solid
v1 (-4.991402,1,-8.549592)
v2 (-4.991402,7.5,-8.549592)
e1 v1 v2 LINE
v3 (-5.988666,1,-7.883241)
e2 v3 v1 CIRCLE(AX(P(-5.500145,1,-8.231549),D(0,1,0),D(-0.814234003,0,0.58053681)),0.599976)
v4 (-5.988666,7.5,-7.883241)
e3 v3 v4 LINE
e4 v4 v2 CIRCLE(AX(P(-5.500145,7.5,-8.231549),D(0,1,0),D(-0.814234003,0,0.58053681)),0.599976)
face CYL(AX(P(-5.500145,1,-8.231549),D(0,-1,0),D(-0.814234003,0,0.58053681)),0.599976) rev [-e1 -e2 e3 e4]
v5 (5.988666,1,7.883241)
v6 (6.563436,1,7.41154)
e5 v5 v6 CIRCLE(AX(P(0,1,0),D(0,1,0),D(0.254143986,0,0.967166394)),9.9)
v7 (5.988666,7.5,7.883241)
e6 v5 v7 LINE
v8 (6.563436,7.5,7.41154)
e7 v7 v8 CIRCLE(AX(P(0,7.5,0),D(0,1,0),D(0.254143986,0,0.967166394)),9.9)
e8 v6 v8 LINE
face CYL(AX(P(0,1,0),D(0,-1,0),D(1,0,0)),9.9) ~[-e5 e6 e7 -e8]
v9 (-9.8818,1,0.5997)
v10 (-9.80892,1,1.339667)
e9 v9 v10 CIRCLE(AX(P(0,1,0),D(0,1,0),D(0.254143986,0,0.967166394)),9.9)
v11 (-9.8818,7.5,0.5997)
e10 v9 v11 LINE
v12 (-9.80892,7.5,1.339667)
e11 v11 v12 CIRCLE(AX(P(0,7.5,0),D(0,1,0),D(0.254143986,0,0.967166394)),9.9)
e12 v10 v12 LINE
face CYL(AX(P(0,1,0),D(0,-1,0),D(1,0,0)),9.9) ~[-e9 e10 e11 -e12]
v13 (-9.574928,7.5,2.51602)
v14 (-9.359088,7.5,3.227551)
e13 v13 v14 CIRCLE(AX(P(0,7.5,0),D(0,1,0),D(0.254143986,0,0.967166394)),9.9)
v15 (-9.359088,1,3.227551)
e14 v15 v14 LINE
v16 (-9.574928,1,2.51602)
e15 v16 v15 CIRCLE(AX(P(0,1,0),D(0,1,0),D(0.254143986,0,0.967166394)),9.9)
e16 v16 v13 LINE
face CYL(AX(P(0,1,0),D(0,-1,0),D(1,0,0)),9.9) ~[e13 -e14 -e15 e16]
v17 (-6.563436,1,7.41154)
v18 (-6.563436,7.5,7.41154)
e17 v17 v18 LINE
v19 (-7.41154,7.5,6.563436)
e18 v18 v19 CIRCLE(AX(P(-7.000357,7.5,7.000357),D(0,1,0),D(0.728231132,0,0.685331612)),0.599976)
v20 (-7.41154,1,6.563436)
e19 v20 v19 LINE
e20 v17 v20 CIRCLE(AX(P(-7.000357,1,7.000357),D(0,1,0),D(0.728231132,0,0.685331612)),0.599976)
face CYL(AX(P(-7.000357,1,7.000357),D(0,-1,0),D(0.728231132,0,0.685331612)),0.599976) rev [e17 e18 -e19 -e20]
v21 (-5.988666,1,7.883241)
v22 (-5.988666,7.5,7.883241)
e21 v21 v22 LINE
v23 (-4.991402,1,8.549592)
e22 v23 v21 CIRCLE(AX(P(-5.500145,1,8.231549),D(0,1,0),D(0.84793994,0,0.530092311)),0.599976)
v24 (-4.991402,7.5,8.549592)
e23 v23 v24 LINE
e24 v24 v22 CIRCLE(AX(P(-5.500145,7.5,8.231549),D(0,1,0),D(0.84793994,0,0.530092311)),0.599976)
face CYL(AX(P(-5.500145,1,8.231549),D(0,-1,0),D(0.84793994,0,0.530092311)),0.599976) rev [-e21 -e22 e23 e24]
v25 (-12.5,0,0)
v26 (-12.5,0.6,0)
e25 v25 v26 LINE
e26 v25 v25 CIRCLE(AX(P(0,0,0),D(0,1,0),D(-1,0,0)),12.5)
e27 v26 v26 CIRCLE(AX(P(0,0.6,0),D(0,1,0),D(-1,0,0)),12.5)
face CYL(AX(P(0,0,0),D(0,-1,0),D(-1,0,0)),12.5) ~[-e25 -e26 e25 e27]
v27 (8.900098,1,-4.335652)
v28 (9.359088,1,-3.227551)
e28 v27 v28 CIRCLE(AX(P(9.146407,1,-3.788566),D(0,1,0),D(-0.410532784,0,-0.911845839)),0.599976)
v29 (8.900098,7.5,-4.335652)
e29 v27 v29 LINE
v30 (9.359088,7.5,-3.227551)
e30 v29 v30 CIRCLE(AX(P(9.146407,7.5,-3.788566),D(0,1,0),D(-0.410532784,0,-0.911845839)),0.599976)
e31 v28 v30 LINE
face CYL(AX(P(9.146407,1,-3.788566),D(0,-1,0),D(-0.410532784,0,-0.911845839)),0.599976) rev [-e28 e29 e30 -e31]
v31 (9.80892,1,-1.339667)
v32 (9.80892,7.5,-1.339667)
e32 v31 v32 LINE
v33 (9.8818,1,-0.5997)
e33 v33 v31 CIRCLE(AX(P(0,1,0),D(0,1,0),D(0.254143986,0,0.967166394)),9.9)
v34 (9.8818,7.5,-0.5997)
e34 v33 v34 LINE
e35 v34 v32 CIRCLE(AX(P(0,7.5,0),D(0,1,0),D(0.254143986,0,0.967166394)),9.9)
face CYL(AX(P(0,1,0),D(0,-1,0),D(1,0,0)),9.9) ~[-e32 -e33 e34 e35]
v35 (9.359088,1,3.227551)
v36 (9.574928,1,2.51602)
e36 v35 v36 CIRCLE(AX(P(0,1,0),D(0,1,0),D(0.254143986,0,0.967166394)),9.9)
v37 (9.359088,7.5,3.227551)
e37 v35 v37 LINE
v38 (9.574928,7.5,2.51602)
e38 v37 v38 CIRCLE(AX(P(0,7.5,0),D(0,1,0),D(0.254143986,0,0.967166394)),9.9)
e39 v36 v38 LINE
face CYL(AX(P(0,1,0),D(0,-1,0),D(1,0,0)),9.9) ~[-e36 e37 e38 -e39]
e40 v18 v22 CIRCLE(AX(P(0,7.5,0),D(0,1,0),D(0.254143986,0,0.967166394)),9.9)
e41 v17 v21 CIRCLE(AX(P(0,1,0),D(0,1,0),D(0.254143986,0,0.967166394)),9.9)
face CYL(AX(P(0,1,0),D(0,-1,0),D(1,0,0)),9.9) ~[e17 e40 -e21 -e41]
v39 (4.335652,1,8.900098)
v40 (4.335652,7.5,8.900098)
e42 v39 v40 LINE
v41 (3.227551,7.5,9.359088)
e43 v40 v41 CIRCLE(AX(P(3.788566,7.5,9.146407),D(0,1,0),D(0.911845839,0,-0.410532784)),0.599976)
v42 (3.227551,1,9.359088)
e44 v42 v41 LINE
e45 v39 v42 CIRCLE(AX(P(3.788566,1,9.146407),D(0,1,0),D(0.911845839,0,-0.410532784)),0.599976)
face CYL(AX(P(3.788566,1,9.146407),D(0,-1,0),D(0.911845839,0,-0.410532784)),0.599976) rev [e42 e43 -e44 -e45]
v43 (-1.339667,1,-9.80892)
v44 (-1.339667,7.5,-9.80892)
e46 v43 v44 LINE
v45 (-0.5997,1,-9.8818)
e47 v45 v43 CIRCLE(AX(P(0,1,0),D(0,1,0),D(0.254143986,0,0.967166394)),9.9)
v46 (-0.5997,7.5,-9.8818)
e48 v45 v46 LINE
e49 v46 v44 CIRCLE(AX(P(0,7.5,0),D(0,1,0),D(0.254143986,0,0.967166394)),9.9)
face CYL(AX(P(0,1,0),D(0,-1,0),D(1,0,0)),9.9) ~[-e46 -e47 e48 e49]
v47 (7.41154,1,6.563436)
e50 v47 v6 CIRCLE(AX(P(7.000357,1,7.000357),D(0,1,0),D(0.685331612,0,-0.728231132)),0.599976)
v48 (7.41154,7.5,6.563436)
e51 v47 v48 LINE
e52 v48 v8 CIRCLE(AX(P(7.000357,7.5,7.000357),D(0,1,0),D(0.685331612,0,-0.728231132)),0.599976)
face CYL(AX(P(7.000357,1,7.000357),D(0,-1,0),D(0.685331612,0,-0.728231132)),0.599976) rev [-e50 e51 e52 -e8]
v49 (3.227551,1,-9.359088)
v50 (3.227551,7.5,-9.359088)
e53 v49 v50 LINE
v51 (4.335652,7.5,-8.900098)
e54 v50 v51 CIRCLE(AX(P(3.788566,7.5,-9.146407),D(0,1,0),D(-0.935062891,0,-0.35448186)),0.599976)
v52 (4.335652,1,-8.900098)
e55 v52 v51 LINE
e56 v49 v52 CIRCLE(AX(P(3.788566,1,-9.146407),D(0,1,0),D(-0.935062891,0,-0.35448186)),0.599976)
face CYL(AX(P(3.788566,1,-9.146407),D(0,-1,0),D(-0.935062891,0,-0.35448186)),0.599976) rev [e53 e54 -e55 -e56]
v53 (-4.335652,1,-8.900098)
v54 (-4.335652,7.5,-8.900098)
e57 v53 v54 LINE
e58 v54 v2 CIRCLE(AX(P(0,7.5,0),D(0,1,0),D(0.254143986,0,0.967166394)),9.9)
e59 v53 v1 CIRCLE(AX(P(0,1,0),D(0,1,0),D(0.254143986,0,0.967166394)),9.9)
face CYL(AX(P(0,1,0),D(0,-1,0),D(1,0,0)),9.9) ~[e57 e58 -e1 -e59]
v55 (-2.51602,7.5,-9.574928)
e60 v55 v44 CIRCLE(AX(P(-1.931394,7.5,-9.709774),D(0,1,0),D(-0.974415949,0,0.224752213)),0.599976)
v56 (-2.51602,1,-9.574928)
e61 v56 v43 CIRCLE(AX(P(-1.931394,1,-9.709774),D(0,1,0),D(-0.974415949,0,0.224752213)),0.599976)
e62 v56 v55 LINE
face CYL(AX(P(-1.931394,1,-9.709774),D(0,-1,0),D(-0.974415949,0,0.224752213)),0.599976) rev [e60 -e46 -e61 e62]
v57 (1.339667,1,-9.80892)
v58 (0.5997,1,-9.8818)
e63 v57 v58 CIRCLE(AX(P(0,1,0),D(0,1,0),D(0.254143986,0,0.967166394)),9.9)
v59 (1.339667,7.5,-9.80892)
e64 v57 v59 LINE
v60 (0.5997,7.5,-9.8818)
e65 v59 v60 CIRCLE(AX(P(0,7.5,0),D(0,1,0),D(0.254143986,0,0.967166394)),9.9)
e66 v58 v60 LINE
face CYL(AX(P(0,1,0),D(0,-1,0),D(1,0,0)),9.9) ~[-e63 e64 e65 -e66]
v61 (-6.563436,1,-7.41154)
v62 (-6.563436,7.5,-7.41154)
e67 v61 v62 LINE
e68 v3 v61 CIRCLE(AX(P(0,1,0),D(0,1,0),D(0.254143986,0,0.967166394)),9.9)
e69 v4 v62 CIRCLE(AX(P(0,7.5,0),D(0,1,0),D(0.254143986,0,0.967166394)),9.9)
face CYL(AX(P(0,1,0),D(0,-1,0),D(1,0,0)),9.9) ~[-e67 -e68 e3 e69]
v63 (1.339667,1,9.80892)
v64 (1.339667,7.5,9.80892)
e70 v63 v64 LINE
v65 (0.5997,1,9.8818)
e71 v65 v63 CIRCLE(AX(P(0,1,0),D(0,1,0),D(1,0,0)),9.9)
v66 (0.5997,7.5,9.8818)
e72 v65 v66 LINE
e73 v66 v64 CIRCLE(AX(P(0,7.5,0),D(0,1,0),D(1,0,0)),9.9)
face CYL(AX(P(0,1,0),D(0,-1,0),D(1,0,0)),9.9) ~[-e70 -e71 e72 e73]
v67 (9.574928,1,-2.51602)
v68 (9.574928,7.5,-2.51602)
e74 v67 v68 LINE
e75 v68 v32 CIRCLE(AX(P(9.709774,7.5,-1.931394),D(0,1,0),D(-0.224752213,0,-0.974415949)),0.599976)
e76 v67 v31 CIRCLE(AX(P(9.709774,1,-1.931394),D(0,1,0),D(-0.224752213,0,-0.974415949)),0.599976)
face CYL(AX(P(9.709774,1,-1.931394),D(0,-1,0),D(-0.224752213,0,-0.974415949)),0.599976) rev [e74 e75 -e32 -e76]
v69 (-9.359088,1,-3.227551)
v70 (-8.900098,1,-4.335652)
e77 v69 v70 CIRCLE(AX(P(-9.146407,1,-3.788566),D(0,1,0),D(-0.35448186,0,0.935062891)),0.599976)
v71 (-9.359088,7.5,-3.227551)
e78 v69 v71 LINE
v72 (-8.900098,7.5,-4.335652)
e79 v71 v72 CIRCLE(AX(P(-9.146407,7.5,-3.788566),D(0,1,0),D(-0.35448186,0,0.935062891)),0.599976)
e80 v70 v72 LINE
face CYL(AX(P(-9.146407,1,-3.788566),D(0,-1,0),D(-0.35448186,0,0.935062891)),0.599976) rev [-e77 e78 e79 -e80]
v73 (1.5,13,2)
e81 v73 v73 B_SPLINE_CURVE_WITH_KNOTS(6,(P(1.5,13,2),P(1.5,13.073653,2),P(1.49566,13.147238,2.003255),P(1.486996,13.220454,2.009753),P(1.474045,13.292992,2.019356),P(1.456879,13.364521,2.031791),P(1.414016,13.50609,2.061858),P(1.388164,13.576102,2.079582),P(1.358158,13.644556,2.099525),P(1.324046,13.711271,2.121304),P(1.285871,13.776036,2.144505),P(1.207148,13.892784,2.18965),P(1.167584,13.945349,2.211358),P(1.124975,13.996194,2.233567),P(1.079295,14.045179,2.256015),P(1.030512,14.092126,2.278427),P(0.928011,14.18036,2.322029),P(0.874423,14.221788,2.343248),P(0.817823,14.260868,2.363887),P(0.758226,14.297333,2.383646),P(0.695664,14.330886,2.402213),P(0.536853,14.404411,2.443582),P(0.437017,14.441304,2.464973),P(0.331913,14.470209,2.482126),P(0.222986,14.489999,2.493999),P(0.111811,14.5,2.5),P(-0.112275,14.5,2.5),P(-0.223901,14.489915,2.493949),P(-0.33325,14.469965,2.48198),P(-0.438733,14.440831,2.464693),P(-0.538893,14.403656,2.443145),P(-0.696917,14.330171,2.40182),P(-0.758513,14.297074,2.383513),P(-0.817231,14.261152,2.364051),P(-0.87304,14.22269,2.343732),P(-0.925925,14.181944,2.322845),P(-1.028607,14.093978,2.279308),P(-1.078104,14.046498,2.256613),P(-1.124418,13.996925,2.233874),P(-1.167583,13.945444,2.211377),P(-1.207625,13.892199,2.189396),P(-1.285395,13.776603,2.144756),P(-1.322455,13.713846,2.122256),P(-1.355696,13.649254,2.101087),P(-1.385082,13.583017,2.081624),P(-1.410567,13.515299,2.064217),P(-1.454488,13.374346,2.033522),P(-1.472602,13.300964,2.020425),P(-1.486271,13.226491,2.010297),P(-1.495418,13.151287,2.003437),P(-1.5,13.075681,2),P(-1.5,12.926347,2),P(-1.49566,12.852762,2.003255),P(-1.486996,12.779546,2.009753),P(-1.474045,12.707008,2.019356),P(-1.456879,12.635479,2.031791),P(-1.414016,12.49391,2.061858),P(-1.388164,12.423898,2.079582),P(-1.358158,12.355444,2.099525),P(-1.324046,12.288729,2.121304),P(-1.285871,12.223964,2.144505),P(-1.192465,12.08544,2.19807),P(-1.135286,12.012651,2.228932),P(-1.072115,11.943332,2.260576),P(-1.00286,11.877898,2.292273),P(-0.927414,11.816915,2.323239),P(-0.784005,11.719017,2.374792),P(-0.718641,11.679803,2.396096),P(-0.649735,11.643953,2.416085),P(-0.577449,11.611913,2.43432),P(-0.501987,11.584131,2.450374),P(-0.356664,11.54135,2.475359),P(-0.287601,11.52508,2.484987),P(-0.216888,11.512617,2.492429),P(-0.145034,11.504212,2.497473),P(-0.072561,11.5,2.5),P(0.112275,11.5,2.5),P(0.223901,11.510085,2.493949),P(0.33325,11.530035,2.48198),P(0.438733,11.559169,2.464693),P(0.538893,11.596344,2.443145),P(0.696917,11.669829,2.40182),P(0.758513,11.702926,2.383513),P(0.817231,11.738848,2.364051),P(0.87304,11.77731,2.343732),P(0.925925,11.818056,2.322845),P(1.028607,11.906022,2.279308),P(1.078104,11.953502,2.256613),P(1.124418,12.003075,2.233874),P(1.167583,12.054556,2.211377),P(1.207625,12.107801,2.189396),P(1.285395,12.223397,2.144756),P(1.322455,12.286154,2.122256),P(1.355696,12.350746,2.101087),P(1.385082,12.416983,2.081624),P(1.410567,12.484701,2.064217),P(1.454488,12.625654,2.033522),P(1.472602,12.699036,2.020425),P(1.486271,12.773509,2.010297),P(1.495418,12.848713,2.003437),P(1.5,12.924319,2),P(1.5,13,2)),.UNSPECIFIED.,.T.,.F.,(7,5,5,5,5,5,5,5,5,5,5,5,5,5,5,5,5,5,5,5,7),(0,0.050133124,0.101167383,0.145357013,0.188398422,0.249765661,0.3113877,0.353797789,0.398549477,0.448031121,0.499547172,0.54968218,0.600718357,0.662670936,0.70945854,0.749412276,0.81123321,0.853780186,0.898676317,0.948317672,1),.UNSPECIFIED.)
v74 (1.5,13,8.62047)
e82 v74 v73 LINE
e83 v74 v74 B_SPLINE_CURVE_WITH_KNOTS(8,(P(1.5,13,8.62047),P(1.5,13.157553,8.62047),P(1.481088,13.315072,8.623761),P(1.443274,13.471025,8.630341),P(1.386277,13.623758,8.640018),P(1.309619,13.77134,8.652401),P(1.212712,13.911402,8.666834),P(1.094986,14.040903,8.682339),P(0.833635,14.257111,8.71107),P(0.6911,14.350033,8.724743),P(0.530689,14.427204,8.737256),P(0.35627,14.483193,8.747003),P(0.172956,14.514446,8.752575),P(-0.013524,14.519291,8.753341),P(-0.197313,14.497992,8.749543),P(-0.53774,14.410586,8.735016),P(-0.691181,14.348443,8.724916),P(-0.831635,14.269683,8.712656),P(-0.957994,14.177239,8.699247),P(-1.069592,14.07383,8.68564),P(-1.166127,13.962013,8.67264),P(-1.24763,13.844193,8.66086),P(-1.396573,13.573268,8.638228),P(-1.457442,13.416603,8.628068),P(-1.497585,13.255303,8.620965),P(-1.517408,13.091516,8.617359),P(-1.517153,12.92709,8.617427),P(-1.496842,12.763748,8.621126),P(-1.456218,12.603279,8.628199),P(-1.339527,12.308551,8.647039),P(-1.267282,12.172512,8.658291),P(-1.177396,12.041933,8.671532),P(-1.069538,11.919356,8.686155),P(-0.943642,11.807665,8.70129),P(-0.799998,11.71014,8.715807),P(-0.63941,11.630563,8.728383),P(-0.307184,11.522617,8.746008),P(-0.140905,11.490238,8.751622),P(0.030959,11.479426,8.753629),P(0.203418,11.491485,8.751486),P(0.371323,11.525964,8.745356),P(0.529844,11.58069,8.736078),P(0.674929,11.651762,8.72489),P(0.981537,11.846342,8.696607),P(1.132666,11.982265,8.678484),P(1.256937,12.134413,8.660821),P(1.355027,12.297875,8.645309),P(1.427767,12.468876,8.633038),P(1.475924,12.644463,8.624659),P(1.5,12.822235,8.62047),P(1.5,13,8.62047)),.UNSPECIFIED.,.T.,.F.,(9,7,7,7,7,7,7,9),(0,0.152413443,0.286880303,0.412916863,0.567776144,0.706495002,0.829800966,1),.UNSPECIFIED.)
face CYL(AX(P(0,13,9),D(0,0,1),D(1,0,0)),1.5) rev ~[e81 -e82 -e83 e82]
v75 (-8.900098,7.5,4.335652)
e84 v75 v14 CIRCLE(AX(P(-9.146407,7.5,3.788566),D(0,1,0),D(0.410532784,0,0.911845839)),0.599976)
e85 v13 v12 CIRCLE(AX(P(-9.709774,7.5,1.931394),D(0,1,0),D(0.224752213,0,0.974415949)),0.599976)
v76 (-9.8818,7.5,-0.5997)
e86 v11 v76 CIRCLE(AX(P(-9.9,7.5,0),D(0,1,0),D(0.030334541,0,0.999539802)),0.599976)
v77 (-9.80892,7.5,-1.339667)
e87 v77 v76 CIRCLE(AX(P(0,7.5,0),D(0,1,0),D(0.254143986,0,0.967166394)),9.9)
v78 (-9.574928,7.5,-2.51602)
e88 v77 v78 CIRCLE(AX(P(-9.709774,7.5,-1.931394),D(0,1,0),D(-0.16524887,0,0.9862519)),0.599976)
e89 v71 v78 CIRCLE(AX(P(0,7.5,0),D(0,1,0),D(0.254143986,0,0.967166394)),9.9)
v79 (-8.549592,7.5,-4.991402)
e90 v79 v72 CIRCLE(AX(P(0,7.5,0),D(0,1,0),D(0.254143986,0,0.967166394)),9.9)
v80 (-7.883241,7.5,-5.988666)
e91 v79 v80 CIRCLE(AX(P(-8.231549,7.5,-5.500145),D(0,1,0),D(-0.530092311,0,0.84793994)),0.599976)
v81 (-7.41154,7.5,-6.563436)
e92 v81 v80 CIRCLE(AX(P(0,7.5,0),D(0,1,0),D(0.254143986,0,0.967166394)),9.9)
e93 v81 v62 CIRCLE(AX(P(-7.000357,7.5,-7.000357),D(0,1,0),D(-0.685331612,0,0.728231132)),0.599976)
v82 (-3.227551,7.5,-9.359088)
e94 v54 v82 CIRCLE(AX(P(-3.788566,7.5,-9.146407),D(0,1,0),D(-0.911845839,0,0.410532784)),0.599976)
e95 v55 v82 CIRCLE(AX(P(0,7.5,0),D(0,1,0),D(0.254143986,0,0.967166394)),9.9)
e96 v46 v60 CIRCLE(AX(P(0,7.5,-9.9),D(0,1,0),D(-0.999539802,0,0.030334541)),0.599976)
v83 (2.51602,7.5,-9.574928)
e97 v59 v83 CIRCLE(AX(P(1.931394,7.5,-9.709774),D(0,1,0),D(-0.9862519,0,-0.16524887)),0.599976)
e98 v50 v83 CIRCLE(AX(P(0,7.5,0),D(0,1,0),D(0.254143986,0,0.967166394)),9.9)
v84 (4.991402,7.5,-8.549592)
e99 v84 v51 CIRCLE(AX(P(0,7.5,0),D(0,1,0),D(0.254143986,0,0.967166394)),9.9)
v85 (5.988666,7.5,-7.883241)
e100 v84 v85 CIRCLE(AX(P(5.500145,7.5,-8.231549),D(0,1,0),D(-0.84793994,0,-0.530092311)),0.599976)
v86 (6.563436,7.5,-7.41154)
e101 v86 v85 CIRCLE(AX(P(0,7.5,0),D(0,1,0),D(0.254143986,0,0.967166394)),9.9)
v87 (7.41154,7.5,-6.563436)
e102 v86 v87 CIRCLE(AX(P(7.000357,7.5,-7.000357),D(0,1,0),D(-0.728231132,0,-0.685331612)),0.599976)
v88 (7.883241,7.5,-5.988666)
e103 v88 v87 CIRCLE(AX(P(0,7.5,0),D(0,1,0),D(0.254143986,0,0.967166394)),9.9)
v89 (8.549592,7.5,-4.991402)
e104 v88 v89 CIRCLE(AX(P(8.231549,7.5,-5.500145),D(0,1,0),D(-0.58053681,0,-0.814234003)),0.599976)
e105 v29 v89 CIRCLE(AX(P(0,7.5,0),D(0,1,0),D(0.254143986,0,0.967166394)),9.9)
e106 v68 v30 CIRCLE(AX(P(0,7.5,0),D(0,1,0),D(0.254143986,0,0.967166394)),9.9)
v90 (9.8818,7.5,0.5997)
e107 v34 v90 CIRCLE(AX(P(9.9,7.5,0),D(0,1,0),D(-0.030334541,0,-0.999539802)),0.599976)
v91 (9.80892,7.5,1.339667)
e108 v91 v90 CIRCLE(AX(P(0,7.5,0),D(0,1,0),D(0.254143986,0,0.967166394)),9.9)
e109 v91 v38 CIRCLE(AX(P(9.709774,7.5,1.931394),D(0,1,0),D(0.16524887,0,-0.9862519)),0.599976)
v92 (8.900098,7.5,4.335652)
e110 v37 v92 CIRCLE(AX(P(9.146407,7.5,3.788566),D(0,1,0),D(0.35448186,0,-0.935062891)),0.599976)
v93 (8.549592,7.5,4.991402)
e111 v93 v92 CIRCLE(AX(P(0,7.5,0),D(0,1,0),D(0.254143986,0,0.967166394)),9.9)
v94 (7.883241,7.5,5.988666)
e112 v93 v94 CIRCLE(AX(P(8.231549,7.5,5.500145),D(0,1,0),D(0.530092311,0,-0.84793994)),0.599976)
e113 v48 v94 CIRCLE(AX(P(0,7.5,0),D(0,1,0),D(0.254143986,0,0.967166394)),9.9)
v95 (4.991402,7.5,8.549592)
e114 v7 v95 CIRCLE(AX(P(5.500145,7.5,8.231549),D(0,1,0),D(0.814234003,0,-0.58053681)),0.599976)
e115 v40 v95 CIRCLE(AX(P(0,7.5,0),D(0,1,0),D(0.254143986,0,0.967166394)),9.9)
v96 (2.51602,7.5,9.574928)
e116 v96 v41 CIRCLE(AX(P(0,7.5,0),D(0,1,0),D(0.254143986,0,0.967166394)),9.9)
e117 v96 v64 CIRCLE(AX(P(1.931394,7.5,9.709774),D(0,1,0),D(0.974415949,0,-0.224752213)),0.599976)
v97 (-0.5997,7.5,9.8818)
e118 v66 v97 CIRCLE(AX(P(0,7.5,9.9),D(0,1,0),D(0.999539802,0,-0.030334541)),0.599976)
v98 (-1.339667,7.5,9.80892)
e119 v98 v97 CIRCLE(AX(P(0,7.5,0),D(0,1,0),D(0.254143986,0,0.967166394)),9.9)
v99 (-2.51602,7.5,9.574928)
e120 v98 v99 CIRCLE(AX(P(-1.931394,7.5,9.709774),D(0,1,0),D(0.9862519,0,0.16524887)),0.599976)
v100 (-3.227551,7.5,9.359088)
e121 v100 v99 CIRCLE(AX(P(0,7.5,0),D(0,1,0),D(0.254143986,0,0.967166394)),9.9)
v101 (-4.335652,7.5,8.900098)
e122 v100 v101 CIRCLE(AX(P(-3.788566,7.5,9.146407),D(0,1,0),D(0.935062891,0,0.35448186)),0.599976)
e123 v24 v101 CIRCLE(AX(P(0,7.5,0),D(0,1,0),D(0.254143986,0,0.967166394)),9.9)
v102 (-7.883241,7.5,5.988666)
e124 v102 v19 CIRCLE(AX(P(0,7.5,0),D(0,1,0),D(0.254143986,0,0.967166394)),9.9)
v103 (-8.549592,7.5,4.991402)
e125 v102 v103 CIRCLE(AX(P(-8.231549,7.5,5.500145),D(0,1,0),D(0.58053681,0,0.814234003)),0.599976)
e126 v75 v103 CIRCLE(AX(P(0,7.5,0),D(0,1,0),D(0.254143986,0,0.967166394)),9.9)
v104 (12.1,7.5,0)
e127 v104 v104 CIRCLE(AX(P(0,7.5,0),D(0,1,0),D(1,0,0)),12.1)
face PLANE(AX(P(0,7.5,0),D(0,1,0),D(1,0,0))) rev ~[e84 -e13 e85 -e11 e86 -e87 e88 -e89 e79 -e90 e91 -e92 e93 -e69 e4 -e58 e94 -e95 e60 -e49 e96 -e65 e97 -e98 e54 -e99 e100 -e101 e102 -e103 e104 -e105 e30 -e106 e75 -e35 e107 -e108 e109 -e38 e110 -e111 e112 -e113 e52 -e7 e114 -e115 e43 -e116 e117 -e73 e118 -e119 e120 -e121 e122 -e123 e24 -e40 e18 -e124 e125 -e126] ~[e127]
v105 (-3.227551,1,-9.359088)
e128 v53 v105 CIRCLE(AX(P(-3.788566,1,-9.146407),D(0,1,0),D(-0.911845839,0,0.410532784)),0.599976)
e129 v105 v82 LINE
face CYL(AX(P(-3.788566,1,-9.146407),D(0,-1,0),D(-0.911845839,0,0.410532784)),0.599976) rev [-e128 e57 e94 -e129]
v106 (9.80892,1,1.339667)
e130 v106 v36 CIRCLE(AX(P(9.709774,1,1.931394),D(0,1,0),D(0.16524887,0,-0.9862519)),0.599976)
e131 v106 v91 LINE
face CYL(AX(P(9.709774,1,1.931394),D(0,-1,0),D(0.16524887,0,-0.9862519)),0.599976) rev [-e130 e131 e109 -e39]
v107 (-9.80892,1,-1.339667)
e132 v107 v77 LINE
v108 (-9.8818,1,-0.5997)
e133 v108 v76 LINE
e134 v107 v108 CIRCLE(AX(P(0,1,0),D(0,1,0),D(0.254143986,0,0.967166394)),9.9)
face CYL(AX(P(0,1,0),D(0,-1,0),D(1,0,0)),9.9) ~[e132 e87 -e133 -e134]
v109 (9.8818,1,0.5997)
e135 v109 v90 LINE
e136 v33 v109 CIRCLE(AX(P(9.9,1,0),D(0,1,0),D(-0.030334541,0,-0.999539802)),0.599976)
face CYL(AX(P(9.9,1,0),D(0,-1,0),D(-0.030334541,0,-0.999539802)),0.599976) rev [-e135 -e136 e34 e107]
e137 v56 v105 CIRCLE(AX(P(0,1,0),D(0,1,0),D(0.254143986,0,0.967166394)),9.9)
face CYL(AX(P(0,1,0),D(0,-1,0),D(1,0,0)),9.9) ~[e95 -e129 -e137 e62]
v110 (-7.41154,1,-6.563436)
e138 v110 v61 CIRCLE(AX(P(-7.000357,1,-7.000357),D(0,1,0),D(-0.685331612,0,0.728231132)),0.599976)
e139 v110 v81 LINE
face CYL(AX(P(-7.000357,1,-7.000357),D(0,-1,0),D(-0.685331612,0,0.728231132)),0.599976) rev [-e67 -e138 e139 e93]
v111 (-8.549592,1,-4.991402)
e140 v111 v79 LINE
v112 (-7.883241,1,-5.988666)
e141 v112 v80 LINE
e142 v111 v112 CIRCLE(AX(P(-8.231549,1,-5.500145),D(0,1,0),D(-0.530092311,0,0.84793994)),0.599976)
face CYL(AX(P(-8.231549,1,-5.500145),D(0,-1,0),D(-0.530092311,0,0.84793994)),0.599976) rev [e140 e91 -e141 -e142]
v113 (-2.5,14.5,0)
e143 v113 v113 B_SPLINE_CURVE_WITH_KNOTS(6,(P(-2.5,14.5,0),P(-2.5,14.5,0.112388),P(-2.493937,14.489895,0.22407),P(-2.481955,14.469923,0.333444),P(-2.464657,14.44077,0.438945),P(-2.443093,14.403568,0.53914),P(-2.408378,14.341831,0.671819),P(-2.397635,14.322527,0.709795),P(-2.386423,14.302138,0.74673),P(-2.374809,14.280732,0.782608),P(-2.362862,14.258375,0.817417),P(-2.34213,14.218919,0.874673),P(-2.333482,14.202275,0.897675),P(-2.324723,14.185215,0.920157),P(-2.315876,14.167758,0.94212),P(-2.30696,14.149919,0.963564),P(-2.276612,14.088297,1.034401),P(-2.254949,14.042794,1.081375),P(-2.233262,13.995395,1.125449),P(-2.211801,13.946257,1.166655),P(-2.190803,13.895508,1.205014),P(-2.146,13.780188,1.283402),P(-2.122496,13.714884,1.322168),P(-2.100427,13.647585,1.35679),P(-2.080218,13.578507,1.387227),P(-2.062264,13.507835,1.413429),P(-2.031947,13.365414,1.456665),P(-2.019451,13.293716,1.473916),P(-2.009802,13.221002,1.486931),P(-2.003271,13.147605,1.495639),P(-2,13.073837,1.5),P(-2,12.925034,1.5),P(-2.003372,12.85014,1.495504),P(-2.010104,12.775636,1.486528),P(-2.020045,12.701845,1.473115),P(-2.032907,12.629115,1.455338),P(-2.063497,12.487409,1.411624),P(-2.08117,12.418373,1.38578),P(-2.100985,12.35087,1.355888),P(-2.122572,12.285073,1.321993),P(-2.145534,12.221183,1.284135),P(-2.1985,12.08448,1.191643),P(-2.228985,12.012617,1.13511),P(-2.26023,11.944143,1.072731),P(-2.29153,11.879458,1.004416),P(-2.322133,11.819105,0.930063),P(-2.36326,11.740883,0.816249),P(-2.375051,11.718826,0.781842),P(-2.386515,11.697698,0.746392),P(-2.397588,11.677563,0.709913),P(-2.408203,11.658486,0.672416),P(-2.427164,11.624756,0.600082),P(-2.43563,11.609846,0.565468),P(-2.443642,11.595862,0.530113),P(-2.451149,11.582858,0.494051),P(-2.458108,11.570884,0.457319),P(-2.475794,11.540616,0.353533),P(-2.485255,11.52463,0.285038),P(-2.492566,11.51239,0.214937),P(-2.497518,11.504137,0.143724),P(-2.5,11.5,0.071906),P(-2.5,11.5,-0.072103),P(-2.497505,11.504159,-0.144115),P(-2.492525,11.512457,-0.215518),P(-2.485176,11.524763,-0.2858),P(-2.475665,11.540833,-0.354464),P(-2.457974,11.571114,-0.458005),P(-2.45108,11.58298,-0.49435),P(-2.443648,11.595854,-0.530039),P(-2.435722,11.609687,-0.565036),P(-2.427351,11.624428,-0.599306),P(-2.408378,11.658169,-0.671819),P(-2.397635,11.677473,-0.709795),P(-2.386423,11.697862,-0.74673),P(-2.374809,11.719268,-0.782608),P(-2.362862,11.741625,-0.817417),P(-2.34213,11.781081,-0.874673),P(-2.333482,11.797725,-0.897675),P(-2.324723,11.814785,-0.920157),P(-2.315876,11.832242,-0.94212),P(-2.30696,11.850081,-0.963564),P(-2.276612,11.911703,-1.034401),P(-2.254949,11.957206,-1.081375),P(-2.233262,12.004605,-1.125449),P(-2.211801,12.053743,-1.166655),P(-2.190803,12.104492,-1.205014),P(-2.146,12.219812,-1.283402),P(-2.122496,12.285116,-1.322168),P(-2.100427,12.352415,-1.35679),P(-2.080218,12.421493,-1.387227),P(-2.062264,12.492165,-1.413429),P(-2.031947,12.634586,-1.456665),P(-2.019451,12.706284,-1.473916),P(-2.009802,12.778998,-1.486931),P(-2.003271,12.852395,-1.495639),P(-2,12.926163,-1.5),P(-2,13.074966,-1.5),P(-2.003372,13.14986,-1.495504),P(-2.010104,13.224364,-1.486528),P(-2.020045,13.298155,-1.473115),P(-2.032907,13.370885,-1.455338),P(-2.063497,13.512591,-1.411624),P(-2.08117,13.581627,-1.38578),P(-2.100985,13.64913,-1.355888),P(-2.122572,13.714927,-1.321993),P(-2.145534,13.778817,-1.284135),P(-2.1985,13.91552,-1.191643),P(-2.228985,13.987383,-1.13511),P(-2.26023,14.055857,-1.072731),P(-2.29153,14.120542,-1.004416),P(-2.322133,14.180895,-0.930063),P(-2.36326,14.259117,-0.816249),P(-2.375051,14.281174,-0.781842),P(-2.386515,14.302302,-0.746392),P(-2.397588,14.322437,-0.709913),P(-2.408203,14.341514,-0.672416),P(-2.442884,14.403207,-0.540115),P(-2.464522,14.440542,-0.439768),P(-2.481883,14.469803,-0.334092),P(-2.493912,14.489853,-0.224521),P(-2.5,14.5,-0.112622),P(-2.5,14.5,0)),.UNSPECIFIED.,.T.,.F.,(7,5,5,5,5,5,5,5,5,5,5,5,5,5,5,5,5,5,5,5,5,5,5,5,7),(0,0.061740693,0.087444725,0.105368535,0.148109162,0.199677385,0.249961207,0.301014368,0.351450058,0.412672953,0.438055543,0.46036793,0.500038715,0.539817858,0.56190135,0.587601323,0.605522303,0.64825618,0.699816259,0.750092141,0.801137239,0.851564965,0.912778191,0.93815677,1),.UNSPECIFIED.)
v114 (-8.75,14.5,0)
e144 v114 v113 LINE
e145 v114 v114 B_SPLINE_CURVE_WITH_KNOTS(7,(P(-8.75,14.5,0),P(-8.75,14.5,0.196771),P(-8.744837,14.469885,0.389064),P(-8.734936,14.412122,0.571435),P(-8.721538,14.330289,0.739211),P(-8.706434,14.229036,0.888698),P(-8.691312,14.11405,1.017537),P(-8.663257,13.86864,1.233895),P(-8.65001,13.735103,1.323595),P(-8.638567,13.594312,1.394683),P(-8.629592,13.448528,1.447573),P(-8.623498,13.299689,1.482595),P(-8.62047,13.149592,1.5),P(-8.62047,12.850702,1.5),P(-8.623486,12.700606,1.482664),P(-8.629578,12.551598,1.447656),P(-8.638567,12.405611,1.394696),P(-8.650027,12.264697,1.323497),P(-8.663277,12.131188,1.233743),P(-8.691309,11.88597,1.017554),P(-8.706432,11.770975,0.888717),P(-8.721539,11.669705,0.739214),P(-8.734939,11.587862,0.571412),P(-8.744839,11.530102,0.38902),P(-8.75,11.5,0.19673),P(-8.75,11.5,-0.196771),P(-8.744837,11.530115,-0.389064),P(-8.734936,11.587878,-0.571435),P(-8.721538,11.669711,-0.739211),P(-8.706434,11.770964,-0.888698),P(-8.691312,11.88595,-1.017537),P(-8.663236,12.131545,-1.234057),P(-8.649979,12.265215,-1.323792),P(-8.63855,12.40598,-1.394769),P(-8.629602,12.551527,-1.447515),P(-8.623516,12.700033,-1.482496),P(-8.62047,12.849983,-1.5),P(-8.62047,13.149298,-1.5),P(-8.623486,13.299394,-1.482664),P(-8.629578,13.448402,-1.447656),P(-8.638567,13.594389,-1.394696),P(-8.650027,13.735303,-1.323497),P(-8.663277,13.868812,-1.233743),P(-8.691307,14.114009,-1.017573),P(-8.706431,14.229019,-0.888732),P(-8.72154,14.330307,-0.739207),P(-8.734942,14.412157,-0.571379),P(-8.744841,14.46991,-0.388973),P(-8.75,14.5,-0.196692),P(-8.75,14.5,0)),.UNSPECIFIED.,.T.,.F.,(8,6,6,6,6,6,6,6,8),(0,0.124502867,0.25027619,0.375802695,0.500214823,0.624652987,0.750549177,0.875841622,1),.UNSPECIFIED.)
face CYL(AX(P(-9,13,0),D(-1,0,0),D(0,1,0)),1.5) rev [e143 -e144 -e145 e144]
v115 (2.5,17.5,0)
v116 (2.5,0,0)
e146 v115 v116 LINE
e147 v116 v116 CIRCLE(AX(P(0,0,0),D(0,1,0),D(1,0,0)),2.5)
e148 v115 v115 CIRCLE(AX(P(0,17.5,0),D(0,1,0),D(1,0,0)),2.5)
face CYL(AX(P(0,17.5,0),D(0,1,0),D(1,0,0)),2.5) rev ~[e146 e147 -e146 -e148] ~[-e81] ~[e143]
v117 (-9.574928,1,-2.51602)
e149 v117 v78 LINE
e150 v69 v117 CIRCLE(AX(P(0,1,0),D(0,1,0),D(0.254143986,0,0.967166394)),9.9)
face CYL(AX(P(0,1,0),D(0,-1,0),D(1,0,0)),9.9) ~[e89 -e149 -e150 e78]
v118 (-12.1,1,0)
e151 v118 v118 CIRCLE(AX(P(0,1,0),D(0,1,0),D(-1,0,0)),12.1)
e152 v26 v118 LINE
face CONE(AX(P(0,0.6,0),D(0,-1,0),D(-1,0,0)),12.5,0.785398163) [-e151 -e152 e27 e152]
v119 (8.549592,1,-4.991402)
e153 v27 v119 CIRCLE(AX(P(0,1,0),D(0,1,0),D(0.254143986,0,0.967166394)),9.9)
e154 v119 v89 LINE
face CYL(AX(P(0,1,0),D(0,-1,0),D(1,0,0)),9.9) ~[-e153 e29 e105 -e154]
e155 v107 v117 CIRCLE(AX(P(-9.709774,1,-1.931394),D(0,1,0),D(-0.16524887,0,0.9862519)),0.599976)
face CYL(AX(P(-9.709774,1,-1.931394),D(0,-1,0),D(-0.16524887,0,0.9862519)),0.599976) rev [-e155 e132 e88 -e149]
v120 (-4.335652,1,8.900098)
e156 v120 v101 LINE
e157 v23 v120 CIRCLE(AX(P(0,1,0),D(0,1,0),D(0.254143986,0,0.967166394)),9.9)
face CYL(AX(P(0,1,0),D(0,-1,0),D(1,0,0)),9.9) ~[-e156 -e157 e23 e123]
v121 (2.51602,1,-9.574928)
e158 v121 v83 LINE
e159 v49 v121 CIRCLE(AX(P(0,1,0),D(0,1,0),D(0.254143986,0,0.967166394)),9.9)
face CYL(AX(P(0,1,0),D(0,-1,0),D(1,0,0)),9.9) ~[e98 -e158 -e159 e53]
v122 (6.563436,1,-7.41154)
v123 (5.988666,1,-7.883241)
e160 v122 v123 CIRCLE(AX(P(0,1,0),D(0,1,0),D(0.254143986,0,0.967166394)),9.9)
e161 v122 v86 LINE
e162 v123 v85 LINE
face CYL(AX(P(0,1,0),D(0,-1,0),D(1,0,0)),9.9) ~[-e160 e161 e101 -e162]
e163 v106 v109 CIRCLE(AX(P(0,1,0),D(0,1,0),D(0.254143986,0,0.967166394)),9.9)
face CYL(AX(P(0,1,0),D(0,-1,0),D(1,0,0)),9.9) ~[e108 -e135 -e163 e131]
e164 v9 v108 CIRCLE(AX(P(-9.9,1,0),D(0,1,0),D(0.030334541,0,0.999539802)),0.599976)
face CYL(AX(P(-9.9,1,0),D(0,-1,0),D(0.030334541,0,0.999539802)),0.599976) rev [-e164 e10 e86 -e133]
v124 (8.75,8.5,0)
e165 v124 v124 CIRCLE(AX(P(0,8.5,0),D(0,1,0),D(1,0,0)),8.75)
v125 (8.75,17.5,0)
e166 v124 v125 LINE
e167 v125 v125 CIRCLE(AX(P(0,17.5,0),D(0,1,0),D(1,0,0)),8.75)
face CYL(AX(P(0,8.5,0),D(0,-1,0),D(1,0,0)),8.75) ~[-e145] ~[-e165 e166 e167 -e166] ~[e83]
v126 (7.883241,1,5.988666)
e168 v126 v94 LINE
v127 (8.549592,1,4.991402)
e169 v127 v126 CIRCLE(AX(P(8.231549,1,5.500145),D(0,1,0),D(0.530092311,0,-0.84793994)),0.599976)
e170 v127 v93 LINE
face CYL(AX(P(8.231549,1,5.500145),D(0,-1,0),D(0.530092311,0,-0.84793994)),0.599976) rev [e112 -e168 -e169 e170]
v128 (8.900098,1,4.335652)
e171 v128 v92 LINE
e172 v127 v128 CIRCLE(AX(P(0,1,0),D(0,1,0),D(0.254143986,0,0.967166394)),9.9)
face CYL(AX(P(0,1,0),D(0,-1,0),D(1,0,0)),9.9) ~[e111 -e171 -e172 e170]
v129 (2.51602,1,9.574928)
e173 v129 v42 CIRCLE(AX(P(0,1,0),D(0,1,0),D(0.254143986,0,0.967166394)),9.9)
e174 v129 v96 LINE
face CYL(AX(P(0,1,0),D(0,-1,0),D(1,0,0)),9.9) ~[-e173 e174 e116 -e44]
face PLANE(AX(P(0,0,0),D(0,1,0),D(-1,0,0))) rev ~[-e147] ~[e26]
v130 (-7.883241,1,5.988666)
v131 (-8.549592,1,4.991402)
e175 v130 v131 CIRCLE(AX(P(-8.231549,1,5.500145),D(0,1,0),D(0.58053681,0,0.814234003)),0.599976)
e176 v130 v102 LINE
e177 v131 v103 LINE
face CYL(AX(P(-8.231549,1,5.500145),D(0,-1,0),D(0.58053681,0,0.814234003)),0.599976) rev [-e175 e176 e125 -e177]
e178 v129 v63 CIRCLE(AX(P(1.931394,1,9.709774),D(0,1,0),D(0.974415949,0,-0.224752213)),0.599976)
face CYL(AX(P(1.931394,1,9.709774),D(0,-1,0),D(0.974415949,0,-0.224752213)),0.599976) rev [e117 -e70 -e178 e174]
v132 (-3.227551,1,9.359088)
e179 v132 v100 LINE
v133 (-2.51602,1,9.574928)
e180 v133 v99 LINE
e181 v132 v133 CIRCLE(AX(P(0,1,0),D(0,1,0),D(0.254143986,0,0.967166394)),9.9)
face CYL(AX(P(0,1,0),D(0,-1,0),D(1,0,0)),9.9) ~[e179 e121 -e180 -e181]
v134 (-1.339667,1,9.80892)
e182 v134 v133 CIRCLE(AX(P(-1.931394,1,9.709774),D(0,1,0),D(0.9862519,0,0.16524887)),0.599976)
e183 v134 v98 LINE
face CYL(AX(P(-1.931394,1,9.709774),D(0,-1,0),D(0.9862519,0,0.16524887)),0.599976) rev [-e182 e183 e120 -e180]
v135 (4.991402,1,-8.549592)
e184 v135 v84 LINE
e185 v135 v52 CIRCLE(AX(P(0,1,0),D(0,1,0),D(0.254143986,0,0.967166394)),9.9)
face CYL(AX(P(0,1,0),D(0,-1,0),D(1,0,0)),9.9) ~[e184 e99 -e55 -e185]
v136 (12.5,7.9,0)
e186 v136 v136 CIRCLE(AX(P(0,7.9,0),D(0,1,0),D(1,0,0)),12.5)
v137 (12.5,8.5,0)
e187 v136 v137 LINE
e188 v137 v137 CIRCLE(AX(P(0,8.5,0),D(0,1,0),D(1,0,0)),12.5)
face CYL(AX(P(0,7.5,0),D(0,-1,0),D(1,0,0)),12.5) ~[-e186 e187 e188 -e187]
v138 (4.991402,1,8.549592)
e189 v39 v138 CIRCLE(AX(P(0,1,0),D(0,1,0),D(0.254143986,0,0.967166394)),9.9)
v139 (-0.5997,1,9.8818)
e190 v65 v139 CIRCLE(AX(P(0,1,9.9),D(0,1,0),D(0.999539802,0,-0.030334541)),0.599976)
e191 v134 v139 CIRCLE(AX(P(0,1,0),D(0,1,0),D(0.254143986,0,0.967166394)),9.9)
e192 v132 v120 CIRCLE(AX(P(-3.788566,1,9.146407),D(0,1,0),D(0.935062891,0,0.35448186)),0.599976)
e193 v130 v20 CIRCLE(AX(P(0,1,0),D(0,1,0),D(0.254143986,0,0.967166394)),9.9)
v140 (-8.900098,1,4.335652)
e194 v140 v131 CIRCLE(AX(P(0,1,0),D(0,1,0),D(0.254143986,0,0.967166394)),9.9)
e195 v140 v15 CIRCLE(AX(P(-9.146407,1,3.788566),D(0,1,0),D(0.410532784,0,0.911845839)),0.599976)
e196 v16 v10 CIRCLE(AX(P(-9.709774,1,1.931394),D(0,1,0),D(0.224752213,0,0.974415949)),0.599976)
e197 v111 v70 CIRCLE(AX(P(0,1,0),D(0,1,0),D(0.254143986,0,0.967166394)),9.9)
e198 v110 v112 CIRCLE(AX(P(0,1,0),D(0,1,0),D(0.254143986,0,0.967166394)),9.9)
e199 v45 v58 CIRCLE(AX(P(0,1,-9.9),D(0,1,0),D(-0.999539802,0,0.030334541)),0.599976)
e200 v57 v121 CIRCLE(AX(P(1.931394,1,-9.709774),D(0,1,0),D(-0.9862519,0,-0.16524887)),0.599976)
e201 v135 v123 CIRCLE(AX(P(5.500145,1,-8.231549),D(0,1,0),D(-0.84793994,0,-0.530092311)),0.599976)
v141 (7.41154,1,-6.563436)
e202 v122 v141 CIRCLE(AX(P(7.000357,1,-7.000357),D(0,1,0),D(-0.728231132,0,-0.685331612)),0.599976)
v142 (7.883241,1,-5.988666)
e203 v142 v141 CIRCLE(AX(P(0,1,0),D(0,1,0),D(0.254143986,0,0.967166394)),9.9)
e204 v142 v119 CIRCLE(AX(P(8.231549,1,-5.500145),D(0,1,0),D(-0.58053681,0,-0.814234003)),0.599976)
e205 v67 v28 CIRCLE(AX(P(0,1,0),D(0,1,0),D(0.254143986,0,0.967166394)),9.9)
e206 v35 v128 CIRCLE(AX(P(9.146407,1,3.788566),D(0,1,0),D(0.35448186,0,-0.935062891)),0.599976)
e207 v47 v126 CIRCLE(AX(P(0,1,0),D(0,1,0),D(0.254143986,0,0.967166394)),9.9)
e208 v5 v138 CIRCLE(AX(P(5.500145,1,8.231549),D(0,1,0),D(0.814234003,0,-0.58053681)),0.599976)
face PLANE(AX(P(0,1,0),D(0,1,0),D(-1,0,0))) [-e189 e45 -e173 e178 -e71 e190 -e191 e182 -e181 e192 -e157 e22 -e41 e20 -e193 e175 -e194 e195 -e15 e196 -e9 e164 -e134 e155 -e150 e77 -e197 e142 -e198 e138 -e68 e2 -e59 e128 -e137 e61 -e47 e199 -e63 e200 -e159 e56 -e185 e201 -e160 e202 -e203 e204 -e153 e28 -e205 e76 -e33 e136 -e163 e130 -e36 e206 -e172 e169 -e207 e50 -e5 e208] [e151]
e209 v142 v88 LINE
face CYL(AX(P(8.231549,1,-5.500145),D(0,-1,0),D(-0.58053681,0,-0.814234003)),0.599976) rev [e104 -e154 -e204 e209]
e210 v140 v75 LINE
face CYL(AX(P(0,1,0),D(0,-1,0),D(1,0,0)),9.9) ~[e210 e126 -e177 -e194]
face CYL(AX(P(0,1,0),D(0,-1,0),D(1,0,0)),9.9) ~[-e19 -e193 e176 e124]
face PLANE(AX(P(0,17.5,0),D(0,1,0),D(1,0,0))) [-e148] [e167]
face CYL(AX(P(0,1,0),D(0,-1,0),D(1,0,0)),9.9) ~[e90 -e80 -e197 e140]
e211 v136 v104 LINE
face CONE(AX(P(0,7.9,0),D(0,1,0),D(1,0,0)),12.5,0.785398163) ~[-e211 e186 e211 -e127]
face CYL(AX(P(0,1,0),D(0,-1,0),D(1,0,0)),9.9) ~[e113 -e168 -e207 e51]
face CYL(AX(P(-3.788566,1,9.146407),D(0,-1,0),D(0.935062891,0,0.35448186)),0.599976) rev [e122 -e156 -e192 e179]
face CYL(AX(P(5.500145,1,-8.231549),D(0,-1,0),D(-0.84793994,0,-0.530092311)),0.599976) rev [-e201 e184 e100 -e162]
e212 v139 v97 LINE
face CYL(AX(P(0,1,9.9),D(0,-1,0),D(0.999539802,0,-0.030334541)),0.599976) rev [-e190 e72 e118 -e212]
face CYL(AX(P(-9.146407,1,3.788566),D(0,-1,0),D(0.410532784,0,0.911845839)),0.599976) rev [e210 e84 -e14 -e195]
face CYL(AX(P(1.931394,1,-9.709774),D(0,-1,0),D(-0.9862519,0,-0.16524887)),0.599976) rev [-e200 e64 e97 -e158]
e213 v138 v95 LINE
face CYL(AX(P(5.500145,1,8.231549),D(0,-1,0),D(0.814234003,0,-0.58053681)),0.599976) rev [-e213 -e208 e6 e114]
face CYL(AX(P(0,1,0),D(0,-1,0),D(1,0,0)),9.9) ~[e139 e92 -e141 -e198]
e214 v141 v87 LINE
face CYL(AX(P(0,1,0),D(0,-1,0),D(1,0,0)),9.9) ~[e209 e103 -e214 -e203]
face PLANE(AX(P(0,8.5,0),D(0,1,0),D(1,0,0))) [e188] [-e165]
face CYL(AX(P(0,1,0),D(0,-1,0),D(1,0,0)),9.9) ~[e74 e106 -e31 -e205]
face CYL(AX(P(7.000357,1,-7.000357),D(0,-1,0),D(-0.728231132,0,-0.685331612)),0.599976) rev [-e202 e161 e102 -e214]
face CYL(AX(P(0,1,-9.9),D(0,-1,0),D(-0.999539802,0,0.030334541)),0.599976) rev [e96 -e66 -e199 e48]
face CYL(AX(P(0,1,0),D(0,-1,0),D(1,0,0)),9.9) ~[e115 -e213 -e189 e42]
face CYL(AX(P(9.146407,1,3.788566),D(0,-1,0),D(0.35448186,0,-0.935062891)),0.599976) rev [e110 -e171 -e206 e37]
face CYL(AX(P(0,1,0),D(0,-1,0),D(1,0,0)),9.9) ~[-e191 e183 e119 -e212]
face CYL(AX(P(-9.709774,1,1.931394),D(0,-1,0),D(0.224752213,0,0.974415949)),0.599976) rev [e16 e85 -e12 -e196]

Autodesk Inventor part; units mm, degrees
ref_plane "XZ Plane" through (0, 0, 0) normal (0, 1, 0) x (-1, 0, 0)
sketch "Sketch1" plane through (0, 0, 0) normal (0, 1, 0) x (-1, 0, 0)
  circle A0 centre (0, 0) radius 12.5
  dimension "d0" = 25
extrude "Extrusion1" add sketch "Sketch1" along normal blind 1
chamfer "Chamfer1" distance 0.4 angle 45 1 edges at (12.5, 1, 0)
sketch "Sketch2" plane through (0, 1, 0) normal (0, 1, 0) x (1, 0, 0)
  circle A0 centre (0, 0) radius 12.1 projected
  circle A1 centre (0, 0) radius 9.9
  dimension "d6" = 19.8
extrude "Extrusion2" add sketch "Sketch2" along normal blind 6.5 contours A1
sketch "Sketch3" plane through (0, 7.5, 0) normal (0, 1, 0) x (1, 0, 0)
  circle A0 centre (0, 0) radius 12.5 projected
extrude "Extrusion3" add sketch "Sketch3" along normal blind 1
sketch "Sketch4" plane through (0, 8.5, 0) normal (0, 1, 0) x (1, 0, 0)
  circle A0 centre (0, 0) radius 8.75
  dimension "d14" = 17.5
extrude "Extrusion4" add sketch "Sketch4" along normal blind 9
sketch "Sketch5" plane through (0, 17.5, 0) normal (0, 1, 0) x (1, 0, 0)
  circle A0 centre (0, 0) radius 8.75 projected
  circle A1 centre (0, 0) radius 2.5
  dimension "d17" = 5
extrude "Extrusion5" cut sketch "Sketch5" against normal up to surface (17.5 mm away) contours A1
sketch "Sketch6" plane through (0, 1, 0) normal (0, 1, 0) x (1, 0, 0)
  circle A0 centre (0, 0) radius 9.9 projected
  arc A1 (0.5997, -9.8818) -> (-0.5997, -9.8818) centre (0, -9.9) ccw
  dimension "d20" = 1.2
extrude "Extrusion6" cut sketch "Sketch6" along normal up to surface (6.5 mm away) contours A1 A0 picked at (-0.0236, -9.7001)
pattern_circular "Circular Pattern1" count 32 over 360 about axis through (0, 1, 0) along (0, 1, 0) of "Extrusion6"
ref_plane "Work Plane1" through (0, 0, 9) normal (0, 0, 1) x (1, 0, 0)
ref_plane "Work Plane2" through (-9, 0, 0) normal (1, 0, 0) x (0, 1, 0)
sketch "Sketch7" plane through (-9, 0, 0) normal (1, 0, 0) x (0, 1, 0)
  circle A0 centre (13, 0) radius 1.5
  line L0 (17.5, -8.75) -> (17.5, 8.75) projected
  point P0 (0, 0)
  dimension "d28" = 3
  dimension "d29" = 4.5
extrude "Extrusion7" cut sketch "Sketch7" along normal blind 7.25
sketch "Sketch8" plane through (0, 0, 9) normal (0, 0, 1) x (1, 0, 0)
  circle A0 centre (0, 13) radius 1.5
  line L0 (12.5, 8.5) -> (-12.5, 8.5) projected
  point P0 (0, 0)
  dimension "d32" = 3
  dimension "d40" = 4.5
extrude "Extrusion8" cut sketch "Sketch8" against normal blind 8
thread "Thread1" size "M3x0.5" class "6H" standard "ANSI Metric M Profile" full length
thread "Thread2" size "M3x0.5" class "6H" standard "ANSI Metric M Profile" full length
chamfer "Chamfer3" distance 0.4 angle 45 1 edges at (-12.5, 7.5, 0)
properties part number "PulleyGT2x32x5Bore" material "Aluminum 6061"
